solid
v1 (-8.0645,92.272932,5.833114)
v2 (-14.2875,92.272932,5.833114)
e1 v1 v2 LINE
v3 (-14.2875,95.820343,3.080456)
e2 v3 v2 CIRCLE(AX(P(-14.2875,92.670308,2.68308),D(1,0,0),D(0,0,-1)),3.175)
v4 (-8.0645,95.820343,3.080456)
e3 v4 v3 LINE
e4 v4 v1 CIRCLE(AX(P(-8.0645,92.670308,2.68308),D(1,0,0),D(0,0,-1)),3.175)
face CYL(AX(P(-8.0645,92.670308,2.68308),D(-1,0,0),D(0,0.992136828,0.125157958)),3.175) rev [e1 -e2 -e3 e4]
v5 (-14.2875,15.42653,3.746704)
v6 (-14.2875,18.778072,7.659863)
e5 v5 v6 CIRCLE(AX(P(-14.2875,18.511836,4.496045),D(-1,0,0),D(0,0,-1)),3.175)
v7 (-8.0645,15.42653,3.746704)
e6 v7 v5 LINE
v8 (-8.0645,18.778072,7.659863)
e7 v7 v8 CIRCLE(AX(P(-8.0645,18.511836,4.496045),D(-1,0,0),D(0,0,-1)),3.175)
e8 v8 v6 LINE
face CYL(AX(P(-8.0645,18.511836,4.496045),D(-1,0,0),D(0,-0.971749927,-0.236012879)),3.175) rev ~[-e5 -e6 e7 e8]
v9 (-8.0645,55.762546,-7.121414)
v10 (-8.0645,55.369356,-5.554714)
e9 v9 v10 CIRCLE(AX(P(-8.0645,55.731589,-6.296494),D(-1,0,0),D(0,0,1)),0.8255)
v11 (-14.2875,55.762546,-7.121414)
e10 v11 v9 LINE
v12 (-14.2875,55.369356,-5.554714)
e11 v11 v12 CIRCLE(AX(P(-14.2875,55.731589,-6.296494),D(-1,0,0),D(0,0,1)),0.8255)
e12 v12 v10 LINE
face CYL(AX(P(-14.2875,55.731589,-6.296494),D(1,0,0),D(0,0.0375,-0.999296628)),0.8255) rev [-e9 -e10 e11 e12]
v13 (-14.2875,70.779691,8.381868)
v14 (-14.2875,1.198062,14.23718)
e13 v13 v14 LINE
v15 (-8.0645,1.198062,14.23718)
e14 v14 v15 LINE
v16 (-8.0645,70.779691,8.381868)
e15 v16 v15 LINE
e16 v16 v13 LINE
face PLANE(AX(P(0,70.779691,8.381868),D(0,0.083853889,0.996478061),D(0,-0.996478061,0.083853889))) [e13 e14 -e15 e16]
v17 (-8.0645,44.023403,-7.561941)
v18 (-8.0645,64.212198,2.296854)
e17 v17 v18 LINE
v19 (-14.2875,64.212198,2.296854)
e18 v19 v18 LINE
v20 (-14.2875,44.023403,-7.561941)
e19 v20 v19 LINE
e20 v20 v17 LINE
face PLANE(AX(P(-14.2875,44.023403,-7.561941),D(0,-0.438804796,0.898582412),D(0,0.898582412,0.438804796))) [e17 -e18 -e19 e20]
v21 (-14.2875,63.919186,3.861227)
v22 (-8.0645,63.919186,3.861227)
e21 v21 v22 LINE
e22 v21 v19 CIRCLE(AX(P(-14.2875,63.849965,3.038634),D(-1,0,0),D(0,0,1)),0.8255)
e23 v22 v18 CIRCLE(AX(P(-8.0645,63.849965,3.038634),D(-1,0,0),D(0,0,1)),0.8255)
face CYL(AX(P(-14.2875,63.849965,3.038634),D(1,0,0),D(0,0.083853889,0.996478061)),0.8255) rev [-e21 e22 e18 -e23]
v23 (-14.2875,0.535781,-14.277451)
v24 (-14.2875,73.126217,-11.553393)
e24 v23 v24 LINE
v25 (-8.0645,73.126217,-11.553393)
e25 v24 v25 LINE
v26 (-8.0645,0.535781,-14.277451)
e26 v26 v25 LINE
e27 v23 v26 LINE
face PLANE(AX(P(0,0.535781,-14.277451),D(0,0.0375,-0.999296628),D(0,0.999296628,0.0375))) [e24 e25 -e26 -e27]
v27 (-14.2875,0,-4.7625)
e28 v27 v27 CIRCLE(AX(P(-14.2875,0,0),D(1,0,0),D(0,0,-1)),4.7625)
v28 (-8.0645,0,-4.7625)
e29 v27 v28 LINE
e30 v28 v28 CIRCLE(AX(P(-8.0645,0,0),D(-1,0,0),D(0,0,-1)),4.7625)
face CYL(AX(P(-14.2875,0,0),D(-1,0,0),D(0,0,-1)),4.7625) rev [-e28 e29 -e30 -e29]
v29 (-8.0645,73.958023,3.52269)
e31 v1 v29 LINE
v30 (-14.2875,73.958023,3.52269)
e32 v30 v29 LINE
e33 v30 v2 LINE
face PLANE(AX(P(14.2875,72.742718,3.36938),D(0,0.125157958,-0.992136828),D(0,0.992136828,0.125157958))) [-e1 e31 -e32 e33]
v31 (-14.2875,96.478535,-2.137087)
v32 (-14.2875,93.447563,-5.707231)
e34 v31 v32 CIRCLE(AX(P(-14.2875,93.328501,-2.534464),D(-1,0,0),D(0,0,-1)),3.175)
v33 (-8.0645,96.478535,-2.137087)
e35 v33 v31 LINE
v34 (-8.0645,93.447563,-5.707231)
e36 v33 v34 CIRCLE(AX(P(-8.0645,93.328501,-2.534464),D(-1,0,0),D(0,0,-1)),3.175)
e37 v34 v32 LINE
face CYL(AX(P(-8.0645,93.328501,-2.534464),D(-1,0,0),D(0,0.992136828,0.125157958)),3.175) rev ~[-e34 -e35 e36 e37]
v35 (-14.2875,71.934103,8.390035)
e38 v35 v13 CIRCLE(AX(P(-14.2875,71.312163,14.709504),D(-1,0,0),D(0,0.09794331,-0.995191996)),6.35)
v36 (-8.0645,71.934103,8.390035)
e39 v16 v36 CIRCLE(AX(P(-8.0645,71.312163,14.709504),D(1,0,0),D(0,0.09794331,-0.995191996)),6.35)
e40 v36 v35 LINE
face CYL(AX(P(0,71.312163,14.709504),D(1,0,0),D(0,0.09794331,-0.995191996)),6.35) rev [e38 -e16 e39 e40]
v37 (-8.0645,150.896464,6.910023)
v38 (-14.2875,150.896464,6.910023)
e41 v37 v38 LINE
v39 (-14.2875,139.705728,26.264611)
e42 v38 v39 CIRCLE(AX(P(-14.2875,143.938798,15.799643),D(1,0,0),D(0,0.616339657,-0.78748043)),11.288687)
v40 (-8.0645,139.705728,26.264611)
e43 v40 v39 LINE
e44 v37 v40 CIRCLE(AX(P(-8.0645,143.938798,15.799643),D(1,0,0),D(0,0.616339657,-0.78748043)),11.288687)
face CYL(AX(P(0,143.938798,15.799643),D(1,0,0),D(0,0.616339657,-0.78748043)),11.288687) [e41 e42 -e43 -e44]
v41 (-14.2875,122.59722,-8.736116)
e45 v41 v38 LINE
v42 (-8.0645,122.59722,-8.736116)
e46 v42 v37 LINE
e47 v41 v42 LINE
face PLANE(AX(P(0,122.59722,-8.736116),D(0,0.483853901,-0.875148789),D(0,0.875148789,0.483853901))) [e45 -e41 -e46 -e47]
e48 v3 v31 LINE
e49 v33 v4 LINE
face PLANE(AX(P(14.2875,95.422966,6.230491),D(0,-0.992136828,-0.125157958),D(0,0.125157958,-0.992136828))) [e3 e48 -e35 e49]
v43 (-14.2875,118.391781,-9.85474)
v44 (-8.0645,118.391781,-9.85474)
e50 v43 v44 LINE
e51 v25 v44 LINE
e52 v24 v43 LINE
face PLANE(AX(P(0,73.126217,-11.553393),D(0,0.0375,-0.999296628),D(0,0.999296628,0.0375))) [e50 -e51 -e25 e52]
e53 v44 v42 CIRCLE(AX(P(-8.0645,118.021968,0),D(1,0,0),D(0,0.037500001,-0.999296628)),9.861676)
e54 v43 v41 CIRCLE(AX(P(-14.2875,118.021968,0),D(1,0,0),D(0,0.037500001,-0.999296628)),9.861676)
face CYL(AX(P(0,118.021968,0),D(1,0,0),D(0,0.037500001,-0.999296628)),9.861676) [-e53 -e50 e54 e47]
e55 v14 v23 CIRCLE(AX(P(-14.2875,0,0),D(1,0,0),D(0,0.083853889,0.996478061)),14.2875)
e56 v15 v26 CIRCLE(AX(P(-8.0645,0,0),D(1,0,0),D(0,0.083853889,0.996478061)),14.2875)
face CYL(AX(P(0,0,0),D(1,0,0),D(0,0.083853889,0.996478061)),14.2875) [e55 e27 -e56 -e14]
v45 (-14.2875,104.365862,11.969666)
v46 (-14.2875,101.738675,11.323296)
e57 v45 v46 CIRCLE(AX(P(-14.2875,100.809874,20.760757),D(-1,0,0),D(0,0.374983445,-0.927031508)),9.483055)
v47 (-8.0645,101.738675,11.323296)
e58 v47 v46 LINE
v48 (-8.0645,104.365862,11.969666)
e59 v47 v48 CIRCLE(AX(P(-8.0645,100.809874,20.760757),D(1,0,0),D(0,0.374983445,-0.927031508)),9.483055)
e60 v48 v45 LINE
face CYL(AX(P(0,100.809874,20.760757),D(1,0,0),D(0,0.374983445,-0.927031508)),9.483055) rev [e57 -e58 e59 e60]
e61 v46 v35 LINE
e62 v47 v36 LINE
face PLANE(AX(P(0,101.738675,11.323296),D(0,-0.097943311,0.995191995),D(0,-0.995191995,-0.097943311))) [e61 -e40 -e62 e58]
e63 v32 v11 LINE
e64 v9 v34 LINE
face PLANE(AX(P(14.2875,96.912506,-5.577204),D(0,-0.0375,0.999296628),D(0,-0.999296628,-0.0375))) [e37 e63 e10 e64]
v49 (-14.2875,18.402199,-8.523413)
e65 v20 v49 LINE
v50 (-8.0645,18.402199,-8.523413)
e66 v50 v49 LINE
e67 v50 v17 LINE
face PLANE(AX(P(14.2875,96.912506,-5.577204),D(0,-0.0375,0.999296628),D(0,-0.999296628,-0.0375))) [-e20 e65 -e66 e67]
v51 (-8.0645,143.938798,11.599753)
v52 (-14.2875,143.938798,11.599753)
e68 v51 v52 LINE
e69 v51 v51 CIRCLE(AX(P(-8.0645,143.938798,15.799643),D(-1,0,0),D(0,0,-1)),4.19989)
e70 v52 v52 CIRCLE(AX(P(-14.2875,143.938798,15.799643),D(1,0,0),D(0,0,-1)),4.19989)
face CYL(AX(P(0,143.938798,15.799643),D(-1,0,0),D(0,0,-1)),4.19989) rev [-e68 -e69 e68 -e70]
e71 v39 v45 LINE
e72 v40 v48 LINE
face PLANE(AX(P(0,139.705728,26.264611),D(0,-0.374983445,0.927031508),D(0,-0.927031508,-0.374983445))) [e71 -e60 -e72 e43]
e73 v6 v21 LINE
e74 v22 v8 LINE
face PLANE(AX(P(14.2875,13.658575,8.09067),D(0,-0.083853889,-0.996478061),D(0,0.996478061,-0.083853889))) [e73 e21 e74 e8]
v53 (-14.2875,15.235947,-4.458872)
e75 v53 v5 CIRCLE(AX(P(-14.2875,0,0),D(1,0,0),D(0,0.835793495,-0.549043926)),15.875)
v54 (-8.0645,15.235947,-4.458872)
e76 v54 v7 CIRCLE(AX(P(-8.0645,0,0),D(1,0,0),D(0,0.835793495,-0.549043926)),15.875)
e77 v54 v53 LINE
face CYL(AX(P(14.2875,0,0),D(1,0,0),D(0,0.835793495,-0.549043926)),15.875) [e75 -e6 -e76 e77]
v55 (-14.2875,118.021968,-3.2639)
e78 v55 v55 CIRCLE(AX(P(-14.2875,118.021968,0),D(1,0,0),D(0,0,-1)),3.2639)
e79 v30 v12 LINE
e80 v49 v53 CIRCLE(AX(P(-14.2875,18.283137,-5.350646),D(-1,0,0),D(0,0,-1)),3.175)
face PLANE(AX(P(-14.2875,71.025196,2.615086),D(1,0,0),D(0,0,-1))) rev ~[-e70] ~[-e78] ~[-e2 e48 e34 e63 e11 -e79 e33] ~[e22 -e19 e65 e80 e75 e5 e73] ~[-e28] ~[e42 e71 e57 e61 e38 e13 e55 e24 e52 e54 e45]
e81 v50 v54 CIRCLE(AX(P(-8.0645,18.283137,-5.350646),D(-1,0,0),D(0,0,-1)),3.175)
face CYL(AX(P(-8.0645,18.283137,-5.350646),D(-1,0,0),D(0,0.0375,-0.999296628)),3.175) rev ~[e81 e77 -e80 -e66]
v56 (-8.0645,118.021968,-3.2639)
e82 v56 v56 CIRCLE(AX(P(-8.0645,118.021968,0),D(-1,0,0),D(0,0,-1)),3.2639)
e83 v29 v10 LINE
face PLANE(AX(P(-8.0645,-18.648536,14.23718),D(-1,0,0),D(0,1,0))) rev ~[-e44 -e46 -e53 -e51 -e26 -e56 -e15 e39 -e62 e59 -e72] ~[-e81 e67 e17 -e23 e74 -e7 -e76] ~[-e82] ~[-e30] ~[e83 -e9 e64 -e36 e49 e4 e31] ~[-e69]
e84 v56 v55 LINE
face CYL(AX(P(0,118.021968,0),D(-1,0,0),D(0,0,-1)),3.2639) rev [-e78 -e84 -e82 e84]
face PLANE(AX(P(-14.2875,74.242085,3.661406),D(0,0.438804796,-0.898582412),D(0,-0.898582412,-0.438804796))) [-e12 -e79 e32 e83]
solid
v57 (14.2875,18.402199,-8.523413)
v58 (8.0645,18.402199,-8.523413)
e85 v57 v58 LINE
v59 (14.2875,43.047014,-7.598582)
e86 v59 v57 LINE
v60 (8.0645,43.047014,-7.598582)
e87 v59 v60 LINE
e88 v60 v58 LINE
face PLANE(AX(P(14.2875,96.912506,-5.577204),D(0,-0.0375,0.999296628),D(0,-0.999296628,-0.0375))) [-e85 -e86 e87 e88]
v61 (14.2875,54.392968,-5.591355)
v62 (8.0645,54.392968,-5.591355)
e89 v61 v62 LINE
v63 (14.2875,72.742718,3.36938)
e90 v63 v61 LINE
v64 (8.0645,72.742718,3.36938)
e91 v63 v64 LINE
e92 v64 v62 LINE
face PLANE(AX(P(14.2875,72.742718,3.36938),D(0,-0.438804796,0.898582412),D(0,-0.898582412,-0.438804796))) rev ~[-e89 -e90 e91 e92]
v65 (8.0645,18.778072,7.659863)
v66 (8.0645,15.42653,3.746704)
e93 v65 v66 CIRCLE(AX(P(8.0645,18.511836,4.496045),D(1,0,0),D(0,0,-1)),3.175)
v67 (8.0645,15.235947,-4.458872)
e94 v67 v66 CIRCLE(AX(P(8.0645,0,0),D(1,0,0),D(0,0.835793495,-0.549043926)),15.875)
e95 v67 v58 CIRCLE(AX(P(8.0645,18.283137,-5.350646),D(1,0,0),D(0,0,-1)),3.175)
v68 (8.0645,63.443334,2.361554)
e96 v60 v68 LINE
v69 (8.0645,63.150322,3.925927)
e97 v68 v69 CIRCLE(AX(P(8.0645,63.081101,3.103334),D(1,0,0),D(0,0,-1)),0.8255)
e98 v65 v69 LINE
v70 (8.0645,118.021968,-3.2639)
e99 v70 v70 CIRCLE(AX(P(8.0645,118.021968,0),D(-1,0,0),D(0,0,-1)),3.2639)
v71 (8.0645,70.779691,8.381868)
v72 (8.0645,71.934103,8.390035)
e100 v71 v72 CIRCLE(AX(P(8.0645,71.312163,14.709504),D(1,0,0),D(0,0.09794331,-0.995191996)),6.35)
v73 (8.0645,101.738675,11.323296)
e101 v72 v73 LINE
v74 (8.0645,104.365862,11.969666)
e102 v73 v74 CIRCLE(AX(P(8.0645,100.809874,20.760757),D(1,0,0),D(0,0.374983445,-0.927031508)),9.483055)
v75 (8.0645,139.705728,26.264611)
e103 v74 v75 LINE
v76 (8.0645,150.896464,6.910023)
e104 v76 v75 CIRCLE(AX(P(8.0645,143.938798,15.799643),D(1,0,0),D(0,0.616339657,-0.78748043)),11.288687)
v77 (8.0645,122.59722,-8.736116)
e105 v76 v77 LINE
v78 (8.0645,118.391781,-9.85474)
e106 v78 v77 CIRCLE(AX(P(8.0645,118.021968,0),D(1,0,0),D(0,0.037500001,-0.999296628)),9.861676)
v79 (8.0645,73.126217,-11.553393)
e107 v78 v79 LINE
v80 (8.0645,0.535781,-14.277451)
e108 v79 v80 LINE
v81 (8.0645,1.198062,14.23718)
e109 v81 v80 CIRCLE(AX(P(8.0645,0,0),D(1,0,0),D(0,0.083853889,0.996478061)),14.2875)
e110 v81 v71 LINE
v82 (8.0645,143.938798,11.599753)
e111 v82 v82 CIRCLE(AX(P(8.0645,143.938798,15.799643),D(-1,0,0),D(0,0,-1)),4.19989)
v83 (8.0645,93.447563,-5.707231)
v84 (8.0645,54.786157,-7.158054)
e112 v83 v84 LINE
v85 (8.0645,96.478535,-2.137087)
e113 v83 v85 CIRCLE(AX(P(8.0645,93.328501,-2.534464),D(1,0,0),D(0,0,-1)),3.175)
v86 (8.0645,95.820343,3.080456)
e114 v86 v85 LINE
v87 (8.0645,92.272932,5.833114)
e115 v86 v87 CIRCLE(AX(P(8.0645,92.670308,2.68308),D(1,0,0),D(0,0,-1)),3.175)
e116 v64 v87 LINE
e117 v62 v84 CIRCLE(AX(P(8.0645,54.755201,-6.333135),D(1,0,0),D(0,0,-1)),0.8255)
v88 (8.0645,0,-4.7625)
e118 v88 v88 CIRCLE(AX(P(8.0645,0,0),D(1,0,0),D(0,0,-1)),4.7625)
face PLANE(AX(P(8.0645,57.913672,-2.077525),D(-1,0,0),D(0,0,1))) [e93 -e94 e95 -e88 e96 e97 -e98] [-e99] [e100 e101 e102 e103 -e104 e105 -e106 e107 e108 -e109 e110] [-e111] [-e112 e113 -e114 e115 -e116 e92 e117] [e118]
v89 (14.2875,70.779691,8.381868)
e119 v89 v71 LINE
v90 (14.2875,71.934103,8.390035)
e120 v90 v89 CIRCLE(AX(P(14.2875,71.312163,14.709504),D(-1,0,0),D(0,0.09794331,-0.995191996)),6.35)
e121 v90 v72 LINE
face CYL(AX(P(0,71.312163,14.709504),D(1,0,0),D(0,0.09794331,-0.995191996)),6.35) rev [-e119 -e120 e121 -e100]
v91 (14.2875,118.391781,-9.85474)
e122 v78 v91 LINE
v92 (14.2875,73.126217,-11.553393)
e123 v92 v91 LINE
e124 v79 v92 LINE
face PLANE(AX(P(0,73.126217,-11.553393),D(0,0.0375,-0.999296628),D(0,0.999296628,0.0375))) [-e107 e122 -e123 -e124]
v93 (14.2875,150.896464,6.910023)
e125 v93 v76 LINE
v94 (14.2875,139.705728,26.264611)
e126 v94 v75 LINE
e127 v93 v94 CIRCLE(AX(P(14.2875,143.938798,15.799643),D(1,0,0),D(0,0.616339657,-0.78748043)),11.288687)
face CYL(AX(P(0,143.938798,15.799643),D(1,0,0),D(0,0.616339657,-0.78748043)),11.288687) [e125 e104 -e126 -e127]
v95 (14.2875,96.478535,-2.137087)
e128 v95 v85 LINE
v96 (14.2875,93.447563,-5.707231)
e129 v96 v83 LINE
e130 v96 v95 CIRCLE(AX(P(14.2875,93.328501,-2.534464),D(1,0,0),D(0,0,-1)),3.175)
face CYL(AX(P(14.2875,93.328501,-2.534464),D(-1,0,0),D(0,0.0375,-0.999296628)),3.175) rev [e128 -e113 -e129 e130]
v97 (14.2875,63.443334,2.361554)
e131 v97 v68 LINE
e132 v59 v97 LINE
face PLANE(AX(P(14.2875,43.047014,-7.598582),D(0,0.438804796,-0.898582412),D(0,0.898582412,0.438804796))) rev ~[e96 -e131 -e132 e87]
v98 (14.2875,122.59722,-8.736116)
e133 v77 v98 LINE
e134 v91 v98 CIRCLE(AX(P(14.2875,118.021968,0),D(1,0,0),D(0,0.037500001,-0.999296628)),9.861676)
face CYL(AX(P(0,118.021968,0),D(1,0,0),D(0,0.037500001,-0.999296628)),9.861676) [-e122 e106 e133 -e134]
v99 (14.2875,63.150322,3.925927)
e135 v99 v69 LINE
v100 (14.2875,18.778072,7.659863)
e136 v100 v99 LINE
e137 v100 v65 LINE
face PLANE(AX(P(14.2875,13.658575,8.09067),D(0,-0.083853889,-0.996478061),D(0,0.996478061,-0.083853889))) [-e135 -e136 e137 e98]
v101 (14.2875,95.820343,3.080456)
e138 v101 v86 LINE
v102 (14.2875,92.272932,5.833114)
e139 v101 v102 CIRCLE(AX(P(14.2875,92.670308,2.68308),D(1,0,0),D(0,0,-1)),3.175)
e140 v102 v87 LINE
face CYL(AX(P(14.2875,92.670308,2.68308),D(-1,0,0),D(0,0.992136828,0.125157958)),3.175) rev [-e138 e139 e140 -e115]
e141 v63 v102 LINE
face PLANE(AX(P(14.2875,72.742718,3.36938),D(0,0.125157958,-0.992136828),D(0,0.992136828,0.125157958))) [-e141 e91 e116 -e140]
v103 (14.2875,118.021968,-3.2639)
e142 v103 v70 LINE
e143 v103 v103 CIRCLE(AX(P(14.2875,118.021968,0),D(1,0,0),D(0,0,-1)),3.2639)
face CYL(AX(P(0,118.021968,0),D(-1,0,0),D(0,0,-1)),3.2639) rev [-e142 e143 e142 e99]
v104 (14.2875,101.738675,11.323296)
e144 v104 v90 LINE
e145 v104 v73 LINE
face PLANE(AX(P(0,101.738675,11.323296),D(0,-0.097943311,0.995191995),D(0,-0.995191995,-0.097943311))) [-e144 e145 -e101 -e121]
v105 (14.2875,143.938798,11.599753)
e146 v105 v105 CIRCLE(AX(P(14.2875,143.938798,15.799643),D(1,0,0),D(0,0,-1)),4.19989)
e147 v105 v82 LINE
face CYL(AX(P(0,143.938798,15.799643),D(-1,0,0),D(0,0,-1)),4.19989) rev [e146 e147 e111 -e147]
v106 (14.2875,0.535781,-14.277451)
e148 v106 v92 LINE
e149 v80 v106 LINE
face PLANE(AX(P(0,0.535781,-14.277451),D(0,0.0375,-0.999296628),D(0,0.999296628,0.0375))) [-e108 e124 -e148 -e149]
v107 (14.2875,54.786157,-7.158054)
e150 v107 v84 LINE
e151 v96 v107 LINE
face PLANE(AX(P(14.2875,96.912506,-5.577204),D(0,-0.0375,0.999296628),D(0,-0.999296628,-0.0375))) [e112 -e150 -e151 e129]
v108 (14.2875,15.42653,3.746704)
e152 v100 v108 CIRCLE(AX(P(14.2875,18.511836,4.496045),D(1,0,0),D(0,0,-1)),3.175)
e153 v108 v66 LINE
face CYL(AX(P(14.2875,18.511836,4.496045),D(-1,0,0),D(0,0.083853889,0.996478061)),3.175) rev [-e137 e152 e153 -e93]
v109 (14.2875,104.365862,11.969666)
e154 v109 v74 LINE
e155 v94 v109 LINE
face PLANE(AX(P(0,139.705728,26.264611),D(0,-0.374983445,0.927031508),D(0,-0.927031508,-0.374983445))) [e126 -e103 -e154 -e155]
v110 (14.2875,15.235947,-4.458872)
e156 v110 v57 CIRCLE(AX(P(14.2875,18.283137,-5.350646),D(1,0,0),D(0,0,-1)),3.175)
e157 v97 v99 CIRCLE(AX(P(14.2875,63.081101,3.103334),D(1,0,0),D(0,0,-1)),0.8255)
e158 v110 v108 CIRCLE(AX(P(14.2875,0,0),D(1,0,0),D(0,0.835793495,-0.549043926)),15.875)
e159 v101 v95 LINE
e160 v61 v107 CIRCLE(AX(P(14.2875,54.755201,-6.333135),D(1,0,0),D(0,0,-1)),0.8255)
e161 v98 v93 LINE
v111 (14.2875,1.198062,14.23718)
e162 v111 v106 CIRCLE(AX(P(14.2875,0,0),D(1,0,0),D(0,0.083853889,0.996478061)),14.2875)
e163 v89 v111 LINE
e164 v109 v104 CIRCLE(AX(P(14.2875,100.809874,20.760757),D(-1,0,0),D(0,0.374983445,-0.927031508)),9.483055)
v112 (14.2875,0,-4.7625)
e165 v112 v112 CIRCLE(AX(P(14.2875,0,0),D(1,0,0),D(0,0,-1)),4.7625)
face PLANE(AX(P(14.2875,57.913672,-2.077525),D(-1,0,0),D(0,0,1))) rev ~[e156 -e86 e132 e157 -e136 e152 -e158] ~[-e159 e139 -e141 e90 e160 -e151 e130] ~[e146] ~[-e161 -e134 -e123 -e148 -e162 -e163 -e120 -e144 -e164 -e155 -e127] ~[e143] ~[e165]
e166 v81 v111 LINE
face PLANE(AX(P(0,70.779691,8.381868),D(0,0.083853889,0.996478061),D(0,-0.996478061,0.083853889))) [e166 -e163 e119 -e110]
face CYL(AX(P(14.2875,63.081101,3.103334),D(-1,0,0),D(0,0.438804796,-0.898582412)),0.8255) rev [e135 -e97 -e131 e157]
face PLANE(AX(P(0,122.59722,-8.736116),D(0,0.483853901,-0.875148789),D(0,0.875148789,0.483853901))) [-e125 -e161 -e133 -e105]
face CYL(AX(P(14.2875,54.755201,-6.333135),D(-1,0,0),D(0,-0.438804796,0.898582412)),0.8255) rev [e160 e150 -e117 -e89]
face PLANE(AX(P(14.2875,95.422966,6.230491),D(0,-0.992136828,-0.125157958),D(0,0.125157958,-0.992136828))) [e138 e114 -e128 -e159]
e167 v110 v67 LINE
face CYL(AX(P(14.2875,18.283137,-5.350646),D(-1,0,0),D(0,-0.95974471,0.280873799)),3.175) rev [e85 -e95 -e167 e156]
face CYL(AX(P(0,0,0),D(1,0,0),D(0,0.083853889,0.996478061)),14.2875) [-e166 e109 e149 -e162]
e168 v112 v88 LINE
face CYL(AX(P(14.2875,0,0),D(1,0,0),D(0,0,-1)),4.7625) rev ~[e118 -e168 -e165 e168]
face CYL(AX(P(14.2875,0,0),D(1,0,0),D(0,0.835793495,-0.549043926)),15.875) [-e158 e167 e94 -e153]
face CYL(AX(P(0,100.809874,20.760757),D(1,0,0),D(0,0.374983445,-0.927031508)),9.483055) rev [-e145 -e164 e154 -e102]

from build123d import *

# Parameters (mm, degrees)
SKETCH6_R           = 3.2639
SKETCH6_R_2         = 4.19989
BOSS_EXTRUDE3_DEPTH = 14.2875
SKETCH7_R           = 4.7625
CUT_EXTRUDE1_DEPTH  = 7.14375
SKETCH8_R           = 7.9375
CUT_EXTRUDE2_DEPTH  = 5.55625
CUT_EXTRUDE3_DEPTH  = 29.21
CUT_EXTRUDE5_DEPTH  = 28.575
FILLET2_R           = 3.175
FILLET3_R           = 3.175
BOSS_EXTRUDE4_DEPTH = 6.223
FILLET4_R           = 0.8255
BOSS_EXTRUDE5_DEPTH = 6.223
FILLET6_R           = 0.8255


with BuildPart() as part:
    # Sketch6 → Boss-Extrude3 (new body, symmetric)
    with BuildSketch(Plane(origin=(0, 0, 0), x_dir=(0, 0, -1), z_dir=(1, 0, 0))):
        with BuildLine():
            Line((-8.381868112, 70.779690611), (-14.237180291, 1.198062439))
            ThreePointArc((-14.237180291, 1.198062439), (-0.331752192, -14.283647879), (14.277450567, 0.53578125))
            Line((14.277450567, 0.53578125), (11.553393182, 73.126217476))
            Line((11.553393182, 73.126217476), (9.854739755, 118.39178125))
            ThreePointArc((9.854739755, 118.39178125), (9.530289118, 120.556972634), (8.73611616, 122.597220477))
            Line((8.73611616, 122.597220477), (-6.910022509, 150.896463863))
            ThreePointArc((-6.910022509, 150.896463863), (-21.450180104, 153.711509321), (-26.264611031, 139.705727705))
            Line((-26.264611031, 139.705727705), (-11.969665934, 104.365862186))
            ThreePointArc((-11.969665934, 104.365862186), (-11.552306922, 103.075438538), (-11.323296274, 101.738675336))
            Line((-11.323296274, 101.738675336), (-8.390034626, 71.934102831))
            ThreePointArc((-8.390034626, 71.934102831), (-8.359662681, 71.357082692), (-8.381868112, 70.779690611))
        make_face()
        with Locations((0, 118.021968393)):
            Circle(SKETCH6_R, mode=Mode.SUBTRACT)
        with Locations((-15.799642553, 143.938798421)):
            Circle(SKETCH6_R_2, mode=Mode.SUBTRACT)
    extrude(amount=BOSS_EXTRUDE3_DEPTH, both=True)

    # Sketch7 → Cut-Extrude1 (cut)
    with BuildSketch(Plane(origin=(14.2875, 0, 0), x_dir=(0, 0, -1), z_dir=(1, 0, 0))):
        Circle(SKETCH7_R)
    cut_extrude1 = extrude(amount=-CUT_EXTRUDE1_DEPTH, mode=Mode.SUBTRACT)

    # Sketch8 → Cut-Extrude2 (cut)
    with BuildSketch(Plane(origin=(7.14375, 0, 0), x_dir=(0, 0, -1), z_dir=(1, 0, 0))):
        Circle(SKETCH8_R)
    cut_extrude2 = extrude(amount=-CUT_EXTRUDE2_DEPTH, mode=Mode.SUBTRACT)

    # Mirror1: Cut-Extrude2 across plane
    add(cut_extrude2.mirror(Plane(origin=(0, 0, 0), x_dir=(0, 0, 1), z_dir=(1, 0, 0))), mode=Mode.SUBTRACT)

    # Mirror2: Cut-Extrude1 across plane
    add(cut_extrude1.mirror(Plane(origin=(0, 0, 0), x_dir=(0, 0, 1), z_dir=(1, 0, 0))), mode=Mode.SUBTRACT)

    # Sketch10 → Cut-Extrude3 (cut, symmetric)
    with BuildSketch(Plane(origin=(0, 0, 14.237180291), x_dir=(-1, 0, 0), z_dir=(0, 0, -1))):
        with BuildLine():
            Line((-8.0645, 155.976463863), (-8.0645, -18.648536137))
            ThreePointArc((-8.0645, -18.648536137), (-7.13456403, -20.893600167), (-4.8895, -21.823536137))
            Line((-4.8895, -21.823536137), (4.8895, -21.823536137))
            ThreePointArc((4.8895, -21.823536137), (7.13456403, -20.893600167), (8.0645, -18.648536137))
            Line((8.0645, -18.648536137), (8.0645, 155.976463863))
            Line((8.0645, 155.976463863), (-8.0645, 155.976463863))
        make_face()
    extrude(amount=CUT_EXTRUDE3_DEPTH, both=True, mode=Mode.SUBTRACT)

    # Sketch13 → Cut-Extrude5 (cut)
    with BuildSketch(Plane(origin=(14.2875, 0, 0), x_dir=(0, 0, -1), z_dir=(1, 0, 0))):
        with BuildLine():
            Line((-3.369379853, 72.742718267), (-6.230490775, 95.422966156))
            Line((-6.230490775, 95.422966156), (5.577203891, 96.912505615))
            Line((5.577203891, 96.912505615), (8.716072329, 13.26822174))
            ThreePointArc((8.716072329, 13.26822174), (0.368613547, 15.870719866), (-8.090670188, 13.658575362))
            Line((-8.090670188, 13.658575362), (-3.319759564, 70.353712855))
            ThreePointArc((-3.319759564, 70.353712855), (-3.281968474, 71.549515806), (-3.369379853, 72.742718267))
        make_face()
    extrude(amount=-CUT_EXTRUDE5_DEPTH, mode=Mode.SUBTRACT)

    # Fillet2
    fillet2_edges = [part.edges().sort_by_distance(p)[0] for p in [
        (-11.176, 95.422966156, 6.230490775),
        (-11.176, 96.912505615, -5.577203891),
        (-11.176, 13.26822174, -8.716072329),
        (-11.176, 13.658575362, 8.090670188),
    ]]
    fillet(fillet2_edges, radius=FILLET2_R)

    # Fillet3
    fillet3_edges = [part.edges().sort_by_distance(p)[0] for p in [
        (11.176, 95.422966156, 6.230490775),
        (11.176, 96.912505615, -5.577203891),
        (11.176, 13.26822174, -8.716072329),
        (11.176, 13.658575362, 8.090670188),
    ]]
    fillet(fillet3_edges, radius=FILLET3_R)

    # Sketch21 → Boss-Extrude4 (add)
    with BuildSketch(Plane(origin=(14.2875, 0, 0), x_dir=(0, 0, -1), z_dir=(1, 0, 0))):
        with BuildLine():
            Line((-3.369379853, 72.742718267), (7.304454361, 50.884890412))
            Line((7.304454361, 50.884890412), (7.59858159, 43.047014467))
            Line((7.59858159, 43.047014467), (-3.674943248, 66.132885981))
            Line((-3.674943248, 66.132885981), (-3.319759564, 70.353712855))
            ThreePointArc((-3.319759564, 70.353712855), (-3.281968474, 71.549515806), (-3.369379853, 72.742718267))
        make_face()
    extrude(amount=-BOSS_EXTRUDE4_DEPTH)

    # Fillet4
    fillet4_edges = [part.edges().sort_by_distance(p)[0] for p in [
        (11.176, 66.132885981, 3.674943248),
        (11.176, 50.884890412, -7.304454361),
    ]]
    fillet(fillet4_edges, radius=FILLET4_R)

    # Sketch23 → Boss-Extrude5 (add)
    with BuildSketch(Plane(origin=(-14.2875, 0, -12.7), x_dir=(0, 0, -1), z_dir=(1, 0, 0))):
        with BuildLine():
            Line((-16.361406478, 74.242085268), (-5.432185966, 51.861278542))
            Line((-5.432185966, 51.861278542), (-5.138058737, 44.023402597))
            Line((-5.138058737, 44.023402597), (-16.310243165, 66.901749696))
            Line((-16.310243165, 66.901749696), (-16.019759564, 70.353712855))
            ThreePointArc((-16.019759564, 70.353712855), (-16.023369976, 72.312591024), (-16.361406478, 74.242085268))
        make_face()
    extrude(amount=BOSS_EXTRUDE5_DEPTH)

    # Fillet6
    fillet6_edges = [part.edges().sort_by_distance(p)[0] for p in [
        (-11.176, 66.901749696, 3.610243165),
        (-11.176, 51.861278542, -7.267814034),
    ]]
    fillet(fillet6_edges, radius=FILLET6_R)


solid = part.part
